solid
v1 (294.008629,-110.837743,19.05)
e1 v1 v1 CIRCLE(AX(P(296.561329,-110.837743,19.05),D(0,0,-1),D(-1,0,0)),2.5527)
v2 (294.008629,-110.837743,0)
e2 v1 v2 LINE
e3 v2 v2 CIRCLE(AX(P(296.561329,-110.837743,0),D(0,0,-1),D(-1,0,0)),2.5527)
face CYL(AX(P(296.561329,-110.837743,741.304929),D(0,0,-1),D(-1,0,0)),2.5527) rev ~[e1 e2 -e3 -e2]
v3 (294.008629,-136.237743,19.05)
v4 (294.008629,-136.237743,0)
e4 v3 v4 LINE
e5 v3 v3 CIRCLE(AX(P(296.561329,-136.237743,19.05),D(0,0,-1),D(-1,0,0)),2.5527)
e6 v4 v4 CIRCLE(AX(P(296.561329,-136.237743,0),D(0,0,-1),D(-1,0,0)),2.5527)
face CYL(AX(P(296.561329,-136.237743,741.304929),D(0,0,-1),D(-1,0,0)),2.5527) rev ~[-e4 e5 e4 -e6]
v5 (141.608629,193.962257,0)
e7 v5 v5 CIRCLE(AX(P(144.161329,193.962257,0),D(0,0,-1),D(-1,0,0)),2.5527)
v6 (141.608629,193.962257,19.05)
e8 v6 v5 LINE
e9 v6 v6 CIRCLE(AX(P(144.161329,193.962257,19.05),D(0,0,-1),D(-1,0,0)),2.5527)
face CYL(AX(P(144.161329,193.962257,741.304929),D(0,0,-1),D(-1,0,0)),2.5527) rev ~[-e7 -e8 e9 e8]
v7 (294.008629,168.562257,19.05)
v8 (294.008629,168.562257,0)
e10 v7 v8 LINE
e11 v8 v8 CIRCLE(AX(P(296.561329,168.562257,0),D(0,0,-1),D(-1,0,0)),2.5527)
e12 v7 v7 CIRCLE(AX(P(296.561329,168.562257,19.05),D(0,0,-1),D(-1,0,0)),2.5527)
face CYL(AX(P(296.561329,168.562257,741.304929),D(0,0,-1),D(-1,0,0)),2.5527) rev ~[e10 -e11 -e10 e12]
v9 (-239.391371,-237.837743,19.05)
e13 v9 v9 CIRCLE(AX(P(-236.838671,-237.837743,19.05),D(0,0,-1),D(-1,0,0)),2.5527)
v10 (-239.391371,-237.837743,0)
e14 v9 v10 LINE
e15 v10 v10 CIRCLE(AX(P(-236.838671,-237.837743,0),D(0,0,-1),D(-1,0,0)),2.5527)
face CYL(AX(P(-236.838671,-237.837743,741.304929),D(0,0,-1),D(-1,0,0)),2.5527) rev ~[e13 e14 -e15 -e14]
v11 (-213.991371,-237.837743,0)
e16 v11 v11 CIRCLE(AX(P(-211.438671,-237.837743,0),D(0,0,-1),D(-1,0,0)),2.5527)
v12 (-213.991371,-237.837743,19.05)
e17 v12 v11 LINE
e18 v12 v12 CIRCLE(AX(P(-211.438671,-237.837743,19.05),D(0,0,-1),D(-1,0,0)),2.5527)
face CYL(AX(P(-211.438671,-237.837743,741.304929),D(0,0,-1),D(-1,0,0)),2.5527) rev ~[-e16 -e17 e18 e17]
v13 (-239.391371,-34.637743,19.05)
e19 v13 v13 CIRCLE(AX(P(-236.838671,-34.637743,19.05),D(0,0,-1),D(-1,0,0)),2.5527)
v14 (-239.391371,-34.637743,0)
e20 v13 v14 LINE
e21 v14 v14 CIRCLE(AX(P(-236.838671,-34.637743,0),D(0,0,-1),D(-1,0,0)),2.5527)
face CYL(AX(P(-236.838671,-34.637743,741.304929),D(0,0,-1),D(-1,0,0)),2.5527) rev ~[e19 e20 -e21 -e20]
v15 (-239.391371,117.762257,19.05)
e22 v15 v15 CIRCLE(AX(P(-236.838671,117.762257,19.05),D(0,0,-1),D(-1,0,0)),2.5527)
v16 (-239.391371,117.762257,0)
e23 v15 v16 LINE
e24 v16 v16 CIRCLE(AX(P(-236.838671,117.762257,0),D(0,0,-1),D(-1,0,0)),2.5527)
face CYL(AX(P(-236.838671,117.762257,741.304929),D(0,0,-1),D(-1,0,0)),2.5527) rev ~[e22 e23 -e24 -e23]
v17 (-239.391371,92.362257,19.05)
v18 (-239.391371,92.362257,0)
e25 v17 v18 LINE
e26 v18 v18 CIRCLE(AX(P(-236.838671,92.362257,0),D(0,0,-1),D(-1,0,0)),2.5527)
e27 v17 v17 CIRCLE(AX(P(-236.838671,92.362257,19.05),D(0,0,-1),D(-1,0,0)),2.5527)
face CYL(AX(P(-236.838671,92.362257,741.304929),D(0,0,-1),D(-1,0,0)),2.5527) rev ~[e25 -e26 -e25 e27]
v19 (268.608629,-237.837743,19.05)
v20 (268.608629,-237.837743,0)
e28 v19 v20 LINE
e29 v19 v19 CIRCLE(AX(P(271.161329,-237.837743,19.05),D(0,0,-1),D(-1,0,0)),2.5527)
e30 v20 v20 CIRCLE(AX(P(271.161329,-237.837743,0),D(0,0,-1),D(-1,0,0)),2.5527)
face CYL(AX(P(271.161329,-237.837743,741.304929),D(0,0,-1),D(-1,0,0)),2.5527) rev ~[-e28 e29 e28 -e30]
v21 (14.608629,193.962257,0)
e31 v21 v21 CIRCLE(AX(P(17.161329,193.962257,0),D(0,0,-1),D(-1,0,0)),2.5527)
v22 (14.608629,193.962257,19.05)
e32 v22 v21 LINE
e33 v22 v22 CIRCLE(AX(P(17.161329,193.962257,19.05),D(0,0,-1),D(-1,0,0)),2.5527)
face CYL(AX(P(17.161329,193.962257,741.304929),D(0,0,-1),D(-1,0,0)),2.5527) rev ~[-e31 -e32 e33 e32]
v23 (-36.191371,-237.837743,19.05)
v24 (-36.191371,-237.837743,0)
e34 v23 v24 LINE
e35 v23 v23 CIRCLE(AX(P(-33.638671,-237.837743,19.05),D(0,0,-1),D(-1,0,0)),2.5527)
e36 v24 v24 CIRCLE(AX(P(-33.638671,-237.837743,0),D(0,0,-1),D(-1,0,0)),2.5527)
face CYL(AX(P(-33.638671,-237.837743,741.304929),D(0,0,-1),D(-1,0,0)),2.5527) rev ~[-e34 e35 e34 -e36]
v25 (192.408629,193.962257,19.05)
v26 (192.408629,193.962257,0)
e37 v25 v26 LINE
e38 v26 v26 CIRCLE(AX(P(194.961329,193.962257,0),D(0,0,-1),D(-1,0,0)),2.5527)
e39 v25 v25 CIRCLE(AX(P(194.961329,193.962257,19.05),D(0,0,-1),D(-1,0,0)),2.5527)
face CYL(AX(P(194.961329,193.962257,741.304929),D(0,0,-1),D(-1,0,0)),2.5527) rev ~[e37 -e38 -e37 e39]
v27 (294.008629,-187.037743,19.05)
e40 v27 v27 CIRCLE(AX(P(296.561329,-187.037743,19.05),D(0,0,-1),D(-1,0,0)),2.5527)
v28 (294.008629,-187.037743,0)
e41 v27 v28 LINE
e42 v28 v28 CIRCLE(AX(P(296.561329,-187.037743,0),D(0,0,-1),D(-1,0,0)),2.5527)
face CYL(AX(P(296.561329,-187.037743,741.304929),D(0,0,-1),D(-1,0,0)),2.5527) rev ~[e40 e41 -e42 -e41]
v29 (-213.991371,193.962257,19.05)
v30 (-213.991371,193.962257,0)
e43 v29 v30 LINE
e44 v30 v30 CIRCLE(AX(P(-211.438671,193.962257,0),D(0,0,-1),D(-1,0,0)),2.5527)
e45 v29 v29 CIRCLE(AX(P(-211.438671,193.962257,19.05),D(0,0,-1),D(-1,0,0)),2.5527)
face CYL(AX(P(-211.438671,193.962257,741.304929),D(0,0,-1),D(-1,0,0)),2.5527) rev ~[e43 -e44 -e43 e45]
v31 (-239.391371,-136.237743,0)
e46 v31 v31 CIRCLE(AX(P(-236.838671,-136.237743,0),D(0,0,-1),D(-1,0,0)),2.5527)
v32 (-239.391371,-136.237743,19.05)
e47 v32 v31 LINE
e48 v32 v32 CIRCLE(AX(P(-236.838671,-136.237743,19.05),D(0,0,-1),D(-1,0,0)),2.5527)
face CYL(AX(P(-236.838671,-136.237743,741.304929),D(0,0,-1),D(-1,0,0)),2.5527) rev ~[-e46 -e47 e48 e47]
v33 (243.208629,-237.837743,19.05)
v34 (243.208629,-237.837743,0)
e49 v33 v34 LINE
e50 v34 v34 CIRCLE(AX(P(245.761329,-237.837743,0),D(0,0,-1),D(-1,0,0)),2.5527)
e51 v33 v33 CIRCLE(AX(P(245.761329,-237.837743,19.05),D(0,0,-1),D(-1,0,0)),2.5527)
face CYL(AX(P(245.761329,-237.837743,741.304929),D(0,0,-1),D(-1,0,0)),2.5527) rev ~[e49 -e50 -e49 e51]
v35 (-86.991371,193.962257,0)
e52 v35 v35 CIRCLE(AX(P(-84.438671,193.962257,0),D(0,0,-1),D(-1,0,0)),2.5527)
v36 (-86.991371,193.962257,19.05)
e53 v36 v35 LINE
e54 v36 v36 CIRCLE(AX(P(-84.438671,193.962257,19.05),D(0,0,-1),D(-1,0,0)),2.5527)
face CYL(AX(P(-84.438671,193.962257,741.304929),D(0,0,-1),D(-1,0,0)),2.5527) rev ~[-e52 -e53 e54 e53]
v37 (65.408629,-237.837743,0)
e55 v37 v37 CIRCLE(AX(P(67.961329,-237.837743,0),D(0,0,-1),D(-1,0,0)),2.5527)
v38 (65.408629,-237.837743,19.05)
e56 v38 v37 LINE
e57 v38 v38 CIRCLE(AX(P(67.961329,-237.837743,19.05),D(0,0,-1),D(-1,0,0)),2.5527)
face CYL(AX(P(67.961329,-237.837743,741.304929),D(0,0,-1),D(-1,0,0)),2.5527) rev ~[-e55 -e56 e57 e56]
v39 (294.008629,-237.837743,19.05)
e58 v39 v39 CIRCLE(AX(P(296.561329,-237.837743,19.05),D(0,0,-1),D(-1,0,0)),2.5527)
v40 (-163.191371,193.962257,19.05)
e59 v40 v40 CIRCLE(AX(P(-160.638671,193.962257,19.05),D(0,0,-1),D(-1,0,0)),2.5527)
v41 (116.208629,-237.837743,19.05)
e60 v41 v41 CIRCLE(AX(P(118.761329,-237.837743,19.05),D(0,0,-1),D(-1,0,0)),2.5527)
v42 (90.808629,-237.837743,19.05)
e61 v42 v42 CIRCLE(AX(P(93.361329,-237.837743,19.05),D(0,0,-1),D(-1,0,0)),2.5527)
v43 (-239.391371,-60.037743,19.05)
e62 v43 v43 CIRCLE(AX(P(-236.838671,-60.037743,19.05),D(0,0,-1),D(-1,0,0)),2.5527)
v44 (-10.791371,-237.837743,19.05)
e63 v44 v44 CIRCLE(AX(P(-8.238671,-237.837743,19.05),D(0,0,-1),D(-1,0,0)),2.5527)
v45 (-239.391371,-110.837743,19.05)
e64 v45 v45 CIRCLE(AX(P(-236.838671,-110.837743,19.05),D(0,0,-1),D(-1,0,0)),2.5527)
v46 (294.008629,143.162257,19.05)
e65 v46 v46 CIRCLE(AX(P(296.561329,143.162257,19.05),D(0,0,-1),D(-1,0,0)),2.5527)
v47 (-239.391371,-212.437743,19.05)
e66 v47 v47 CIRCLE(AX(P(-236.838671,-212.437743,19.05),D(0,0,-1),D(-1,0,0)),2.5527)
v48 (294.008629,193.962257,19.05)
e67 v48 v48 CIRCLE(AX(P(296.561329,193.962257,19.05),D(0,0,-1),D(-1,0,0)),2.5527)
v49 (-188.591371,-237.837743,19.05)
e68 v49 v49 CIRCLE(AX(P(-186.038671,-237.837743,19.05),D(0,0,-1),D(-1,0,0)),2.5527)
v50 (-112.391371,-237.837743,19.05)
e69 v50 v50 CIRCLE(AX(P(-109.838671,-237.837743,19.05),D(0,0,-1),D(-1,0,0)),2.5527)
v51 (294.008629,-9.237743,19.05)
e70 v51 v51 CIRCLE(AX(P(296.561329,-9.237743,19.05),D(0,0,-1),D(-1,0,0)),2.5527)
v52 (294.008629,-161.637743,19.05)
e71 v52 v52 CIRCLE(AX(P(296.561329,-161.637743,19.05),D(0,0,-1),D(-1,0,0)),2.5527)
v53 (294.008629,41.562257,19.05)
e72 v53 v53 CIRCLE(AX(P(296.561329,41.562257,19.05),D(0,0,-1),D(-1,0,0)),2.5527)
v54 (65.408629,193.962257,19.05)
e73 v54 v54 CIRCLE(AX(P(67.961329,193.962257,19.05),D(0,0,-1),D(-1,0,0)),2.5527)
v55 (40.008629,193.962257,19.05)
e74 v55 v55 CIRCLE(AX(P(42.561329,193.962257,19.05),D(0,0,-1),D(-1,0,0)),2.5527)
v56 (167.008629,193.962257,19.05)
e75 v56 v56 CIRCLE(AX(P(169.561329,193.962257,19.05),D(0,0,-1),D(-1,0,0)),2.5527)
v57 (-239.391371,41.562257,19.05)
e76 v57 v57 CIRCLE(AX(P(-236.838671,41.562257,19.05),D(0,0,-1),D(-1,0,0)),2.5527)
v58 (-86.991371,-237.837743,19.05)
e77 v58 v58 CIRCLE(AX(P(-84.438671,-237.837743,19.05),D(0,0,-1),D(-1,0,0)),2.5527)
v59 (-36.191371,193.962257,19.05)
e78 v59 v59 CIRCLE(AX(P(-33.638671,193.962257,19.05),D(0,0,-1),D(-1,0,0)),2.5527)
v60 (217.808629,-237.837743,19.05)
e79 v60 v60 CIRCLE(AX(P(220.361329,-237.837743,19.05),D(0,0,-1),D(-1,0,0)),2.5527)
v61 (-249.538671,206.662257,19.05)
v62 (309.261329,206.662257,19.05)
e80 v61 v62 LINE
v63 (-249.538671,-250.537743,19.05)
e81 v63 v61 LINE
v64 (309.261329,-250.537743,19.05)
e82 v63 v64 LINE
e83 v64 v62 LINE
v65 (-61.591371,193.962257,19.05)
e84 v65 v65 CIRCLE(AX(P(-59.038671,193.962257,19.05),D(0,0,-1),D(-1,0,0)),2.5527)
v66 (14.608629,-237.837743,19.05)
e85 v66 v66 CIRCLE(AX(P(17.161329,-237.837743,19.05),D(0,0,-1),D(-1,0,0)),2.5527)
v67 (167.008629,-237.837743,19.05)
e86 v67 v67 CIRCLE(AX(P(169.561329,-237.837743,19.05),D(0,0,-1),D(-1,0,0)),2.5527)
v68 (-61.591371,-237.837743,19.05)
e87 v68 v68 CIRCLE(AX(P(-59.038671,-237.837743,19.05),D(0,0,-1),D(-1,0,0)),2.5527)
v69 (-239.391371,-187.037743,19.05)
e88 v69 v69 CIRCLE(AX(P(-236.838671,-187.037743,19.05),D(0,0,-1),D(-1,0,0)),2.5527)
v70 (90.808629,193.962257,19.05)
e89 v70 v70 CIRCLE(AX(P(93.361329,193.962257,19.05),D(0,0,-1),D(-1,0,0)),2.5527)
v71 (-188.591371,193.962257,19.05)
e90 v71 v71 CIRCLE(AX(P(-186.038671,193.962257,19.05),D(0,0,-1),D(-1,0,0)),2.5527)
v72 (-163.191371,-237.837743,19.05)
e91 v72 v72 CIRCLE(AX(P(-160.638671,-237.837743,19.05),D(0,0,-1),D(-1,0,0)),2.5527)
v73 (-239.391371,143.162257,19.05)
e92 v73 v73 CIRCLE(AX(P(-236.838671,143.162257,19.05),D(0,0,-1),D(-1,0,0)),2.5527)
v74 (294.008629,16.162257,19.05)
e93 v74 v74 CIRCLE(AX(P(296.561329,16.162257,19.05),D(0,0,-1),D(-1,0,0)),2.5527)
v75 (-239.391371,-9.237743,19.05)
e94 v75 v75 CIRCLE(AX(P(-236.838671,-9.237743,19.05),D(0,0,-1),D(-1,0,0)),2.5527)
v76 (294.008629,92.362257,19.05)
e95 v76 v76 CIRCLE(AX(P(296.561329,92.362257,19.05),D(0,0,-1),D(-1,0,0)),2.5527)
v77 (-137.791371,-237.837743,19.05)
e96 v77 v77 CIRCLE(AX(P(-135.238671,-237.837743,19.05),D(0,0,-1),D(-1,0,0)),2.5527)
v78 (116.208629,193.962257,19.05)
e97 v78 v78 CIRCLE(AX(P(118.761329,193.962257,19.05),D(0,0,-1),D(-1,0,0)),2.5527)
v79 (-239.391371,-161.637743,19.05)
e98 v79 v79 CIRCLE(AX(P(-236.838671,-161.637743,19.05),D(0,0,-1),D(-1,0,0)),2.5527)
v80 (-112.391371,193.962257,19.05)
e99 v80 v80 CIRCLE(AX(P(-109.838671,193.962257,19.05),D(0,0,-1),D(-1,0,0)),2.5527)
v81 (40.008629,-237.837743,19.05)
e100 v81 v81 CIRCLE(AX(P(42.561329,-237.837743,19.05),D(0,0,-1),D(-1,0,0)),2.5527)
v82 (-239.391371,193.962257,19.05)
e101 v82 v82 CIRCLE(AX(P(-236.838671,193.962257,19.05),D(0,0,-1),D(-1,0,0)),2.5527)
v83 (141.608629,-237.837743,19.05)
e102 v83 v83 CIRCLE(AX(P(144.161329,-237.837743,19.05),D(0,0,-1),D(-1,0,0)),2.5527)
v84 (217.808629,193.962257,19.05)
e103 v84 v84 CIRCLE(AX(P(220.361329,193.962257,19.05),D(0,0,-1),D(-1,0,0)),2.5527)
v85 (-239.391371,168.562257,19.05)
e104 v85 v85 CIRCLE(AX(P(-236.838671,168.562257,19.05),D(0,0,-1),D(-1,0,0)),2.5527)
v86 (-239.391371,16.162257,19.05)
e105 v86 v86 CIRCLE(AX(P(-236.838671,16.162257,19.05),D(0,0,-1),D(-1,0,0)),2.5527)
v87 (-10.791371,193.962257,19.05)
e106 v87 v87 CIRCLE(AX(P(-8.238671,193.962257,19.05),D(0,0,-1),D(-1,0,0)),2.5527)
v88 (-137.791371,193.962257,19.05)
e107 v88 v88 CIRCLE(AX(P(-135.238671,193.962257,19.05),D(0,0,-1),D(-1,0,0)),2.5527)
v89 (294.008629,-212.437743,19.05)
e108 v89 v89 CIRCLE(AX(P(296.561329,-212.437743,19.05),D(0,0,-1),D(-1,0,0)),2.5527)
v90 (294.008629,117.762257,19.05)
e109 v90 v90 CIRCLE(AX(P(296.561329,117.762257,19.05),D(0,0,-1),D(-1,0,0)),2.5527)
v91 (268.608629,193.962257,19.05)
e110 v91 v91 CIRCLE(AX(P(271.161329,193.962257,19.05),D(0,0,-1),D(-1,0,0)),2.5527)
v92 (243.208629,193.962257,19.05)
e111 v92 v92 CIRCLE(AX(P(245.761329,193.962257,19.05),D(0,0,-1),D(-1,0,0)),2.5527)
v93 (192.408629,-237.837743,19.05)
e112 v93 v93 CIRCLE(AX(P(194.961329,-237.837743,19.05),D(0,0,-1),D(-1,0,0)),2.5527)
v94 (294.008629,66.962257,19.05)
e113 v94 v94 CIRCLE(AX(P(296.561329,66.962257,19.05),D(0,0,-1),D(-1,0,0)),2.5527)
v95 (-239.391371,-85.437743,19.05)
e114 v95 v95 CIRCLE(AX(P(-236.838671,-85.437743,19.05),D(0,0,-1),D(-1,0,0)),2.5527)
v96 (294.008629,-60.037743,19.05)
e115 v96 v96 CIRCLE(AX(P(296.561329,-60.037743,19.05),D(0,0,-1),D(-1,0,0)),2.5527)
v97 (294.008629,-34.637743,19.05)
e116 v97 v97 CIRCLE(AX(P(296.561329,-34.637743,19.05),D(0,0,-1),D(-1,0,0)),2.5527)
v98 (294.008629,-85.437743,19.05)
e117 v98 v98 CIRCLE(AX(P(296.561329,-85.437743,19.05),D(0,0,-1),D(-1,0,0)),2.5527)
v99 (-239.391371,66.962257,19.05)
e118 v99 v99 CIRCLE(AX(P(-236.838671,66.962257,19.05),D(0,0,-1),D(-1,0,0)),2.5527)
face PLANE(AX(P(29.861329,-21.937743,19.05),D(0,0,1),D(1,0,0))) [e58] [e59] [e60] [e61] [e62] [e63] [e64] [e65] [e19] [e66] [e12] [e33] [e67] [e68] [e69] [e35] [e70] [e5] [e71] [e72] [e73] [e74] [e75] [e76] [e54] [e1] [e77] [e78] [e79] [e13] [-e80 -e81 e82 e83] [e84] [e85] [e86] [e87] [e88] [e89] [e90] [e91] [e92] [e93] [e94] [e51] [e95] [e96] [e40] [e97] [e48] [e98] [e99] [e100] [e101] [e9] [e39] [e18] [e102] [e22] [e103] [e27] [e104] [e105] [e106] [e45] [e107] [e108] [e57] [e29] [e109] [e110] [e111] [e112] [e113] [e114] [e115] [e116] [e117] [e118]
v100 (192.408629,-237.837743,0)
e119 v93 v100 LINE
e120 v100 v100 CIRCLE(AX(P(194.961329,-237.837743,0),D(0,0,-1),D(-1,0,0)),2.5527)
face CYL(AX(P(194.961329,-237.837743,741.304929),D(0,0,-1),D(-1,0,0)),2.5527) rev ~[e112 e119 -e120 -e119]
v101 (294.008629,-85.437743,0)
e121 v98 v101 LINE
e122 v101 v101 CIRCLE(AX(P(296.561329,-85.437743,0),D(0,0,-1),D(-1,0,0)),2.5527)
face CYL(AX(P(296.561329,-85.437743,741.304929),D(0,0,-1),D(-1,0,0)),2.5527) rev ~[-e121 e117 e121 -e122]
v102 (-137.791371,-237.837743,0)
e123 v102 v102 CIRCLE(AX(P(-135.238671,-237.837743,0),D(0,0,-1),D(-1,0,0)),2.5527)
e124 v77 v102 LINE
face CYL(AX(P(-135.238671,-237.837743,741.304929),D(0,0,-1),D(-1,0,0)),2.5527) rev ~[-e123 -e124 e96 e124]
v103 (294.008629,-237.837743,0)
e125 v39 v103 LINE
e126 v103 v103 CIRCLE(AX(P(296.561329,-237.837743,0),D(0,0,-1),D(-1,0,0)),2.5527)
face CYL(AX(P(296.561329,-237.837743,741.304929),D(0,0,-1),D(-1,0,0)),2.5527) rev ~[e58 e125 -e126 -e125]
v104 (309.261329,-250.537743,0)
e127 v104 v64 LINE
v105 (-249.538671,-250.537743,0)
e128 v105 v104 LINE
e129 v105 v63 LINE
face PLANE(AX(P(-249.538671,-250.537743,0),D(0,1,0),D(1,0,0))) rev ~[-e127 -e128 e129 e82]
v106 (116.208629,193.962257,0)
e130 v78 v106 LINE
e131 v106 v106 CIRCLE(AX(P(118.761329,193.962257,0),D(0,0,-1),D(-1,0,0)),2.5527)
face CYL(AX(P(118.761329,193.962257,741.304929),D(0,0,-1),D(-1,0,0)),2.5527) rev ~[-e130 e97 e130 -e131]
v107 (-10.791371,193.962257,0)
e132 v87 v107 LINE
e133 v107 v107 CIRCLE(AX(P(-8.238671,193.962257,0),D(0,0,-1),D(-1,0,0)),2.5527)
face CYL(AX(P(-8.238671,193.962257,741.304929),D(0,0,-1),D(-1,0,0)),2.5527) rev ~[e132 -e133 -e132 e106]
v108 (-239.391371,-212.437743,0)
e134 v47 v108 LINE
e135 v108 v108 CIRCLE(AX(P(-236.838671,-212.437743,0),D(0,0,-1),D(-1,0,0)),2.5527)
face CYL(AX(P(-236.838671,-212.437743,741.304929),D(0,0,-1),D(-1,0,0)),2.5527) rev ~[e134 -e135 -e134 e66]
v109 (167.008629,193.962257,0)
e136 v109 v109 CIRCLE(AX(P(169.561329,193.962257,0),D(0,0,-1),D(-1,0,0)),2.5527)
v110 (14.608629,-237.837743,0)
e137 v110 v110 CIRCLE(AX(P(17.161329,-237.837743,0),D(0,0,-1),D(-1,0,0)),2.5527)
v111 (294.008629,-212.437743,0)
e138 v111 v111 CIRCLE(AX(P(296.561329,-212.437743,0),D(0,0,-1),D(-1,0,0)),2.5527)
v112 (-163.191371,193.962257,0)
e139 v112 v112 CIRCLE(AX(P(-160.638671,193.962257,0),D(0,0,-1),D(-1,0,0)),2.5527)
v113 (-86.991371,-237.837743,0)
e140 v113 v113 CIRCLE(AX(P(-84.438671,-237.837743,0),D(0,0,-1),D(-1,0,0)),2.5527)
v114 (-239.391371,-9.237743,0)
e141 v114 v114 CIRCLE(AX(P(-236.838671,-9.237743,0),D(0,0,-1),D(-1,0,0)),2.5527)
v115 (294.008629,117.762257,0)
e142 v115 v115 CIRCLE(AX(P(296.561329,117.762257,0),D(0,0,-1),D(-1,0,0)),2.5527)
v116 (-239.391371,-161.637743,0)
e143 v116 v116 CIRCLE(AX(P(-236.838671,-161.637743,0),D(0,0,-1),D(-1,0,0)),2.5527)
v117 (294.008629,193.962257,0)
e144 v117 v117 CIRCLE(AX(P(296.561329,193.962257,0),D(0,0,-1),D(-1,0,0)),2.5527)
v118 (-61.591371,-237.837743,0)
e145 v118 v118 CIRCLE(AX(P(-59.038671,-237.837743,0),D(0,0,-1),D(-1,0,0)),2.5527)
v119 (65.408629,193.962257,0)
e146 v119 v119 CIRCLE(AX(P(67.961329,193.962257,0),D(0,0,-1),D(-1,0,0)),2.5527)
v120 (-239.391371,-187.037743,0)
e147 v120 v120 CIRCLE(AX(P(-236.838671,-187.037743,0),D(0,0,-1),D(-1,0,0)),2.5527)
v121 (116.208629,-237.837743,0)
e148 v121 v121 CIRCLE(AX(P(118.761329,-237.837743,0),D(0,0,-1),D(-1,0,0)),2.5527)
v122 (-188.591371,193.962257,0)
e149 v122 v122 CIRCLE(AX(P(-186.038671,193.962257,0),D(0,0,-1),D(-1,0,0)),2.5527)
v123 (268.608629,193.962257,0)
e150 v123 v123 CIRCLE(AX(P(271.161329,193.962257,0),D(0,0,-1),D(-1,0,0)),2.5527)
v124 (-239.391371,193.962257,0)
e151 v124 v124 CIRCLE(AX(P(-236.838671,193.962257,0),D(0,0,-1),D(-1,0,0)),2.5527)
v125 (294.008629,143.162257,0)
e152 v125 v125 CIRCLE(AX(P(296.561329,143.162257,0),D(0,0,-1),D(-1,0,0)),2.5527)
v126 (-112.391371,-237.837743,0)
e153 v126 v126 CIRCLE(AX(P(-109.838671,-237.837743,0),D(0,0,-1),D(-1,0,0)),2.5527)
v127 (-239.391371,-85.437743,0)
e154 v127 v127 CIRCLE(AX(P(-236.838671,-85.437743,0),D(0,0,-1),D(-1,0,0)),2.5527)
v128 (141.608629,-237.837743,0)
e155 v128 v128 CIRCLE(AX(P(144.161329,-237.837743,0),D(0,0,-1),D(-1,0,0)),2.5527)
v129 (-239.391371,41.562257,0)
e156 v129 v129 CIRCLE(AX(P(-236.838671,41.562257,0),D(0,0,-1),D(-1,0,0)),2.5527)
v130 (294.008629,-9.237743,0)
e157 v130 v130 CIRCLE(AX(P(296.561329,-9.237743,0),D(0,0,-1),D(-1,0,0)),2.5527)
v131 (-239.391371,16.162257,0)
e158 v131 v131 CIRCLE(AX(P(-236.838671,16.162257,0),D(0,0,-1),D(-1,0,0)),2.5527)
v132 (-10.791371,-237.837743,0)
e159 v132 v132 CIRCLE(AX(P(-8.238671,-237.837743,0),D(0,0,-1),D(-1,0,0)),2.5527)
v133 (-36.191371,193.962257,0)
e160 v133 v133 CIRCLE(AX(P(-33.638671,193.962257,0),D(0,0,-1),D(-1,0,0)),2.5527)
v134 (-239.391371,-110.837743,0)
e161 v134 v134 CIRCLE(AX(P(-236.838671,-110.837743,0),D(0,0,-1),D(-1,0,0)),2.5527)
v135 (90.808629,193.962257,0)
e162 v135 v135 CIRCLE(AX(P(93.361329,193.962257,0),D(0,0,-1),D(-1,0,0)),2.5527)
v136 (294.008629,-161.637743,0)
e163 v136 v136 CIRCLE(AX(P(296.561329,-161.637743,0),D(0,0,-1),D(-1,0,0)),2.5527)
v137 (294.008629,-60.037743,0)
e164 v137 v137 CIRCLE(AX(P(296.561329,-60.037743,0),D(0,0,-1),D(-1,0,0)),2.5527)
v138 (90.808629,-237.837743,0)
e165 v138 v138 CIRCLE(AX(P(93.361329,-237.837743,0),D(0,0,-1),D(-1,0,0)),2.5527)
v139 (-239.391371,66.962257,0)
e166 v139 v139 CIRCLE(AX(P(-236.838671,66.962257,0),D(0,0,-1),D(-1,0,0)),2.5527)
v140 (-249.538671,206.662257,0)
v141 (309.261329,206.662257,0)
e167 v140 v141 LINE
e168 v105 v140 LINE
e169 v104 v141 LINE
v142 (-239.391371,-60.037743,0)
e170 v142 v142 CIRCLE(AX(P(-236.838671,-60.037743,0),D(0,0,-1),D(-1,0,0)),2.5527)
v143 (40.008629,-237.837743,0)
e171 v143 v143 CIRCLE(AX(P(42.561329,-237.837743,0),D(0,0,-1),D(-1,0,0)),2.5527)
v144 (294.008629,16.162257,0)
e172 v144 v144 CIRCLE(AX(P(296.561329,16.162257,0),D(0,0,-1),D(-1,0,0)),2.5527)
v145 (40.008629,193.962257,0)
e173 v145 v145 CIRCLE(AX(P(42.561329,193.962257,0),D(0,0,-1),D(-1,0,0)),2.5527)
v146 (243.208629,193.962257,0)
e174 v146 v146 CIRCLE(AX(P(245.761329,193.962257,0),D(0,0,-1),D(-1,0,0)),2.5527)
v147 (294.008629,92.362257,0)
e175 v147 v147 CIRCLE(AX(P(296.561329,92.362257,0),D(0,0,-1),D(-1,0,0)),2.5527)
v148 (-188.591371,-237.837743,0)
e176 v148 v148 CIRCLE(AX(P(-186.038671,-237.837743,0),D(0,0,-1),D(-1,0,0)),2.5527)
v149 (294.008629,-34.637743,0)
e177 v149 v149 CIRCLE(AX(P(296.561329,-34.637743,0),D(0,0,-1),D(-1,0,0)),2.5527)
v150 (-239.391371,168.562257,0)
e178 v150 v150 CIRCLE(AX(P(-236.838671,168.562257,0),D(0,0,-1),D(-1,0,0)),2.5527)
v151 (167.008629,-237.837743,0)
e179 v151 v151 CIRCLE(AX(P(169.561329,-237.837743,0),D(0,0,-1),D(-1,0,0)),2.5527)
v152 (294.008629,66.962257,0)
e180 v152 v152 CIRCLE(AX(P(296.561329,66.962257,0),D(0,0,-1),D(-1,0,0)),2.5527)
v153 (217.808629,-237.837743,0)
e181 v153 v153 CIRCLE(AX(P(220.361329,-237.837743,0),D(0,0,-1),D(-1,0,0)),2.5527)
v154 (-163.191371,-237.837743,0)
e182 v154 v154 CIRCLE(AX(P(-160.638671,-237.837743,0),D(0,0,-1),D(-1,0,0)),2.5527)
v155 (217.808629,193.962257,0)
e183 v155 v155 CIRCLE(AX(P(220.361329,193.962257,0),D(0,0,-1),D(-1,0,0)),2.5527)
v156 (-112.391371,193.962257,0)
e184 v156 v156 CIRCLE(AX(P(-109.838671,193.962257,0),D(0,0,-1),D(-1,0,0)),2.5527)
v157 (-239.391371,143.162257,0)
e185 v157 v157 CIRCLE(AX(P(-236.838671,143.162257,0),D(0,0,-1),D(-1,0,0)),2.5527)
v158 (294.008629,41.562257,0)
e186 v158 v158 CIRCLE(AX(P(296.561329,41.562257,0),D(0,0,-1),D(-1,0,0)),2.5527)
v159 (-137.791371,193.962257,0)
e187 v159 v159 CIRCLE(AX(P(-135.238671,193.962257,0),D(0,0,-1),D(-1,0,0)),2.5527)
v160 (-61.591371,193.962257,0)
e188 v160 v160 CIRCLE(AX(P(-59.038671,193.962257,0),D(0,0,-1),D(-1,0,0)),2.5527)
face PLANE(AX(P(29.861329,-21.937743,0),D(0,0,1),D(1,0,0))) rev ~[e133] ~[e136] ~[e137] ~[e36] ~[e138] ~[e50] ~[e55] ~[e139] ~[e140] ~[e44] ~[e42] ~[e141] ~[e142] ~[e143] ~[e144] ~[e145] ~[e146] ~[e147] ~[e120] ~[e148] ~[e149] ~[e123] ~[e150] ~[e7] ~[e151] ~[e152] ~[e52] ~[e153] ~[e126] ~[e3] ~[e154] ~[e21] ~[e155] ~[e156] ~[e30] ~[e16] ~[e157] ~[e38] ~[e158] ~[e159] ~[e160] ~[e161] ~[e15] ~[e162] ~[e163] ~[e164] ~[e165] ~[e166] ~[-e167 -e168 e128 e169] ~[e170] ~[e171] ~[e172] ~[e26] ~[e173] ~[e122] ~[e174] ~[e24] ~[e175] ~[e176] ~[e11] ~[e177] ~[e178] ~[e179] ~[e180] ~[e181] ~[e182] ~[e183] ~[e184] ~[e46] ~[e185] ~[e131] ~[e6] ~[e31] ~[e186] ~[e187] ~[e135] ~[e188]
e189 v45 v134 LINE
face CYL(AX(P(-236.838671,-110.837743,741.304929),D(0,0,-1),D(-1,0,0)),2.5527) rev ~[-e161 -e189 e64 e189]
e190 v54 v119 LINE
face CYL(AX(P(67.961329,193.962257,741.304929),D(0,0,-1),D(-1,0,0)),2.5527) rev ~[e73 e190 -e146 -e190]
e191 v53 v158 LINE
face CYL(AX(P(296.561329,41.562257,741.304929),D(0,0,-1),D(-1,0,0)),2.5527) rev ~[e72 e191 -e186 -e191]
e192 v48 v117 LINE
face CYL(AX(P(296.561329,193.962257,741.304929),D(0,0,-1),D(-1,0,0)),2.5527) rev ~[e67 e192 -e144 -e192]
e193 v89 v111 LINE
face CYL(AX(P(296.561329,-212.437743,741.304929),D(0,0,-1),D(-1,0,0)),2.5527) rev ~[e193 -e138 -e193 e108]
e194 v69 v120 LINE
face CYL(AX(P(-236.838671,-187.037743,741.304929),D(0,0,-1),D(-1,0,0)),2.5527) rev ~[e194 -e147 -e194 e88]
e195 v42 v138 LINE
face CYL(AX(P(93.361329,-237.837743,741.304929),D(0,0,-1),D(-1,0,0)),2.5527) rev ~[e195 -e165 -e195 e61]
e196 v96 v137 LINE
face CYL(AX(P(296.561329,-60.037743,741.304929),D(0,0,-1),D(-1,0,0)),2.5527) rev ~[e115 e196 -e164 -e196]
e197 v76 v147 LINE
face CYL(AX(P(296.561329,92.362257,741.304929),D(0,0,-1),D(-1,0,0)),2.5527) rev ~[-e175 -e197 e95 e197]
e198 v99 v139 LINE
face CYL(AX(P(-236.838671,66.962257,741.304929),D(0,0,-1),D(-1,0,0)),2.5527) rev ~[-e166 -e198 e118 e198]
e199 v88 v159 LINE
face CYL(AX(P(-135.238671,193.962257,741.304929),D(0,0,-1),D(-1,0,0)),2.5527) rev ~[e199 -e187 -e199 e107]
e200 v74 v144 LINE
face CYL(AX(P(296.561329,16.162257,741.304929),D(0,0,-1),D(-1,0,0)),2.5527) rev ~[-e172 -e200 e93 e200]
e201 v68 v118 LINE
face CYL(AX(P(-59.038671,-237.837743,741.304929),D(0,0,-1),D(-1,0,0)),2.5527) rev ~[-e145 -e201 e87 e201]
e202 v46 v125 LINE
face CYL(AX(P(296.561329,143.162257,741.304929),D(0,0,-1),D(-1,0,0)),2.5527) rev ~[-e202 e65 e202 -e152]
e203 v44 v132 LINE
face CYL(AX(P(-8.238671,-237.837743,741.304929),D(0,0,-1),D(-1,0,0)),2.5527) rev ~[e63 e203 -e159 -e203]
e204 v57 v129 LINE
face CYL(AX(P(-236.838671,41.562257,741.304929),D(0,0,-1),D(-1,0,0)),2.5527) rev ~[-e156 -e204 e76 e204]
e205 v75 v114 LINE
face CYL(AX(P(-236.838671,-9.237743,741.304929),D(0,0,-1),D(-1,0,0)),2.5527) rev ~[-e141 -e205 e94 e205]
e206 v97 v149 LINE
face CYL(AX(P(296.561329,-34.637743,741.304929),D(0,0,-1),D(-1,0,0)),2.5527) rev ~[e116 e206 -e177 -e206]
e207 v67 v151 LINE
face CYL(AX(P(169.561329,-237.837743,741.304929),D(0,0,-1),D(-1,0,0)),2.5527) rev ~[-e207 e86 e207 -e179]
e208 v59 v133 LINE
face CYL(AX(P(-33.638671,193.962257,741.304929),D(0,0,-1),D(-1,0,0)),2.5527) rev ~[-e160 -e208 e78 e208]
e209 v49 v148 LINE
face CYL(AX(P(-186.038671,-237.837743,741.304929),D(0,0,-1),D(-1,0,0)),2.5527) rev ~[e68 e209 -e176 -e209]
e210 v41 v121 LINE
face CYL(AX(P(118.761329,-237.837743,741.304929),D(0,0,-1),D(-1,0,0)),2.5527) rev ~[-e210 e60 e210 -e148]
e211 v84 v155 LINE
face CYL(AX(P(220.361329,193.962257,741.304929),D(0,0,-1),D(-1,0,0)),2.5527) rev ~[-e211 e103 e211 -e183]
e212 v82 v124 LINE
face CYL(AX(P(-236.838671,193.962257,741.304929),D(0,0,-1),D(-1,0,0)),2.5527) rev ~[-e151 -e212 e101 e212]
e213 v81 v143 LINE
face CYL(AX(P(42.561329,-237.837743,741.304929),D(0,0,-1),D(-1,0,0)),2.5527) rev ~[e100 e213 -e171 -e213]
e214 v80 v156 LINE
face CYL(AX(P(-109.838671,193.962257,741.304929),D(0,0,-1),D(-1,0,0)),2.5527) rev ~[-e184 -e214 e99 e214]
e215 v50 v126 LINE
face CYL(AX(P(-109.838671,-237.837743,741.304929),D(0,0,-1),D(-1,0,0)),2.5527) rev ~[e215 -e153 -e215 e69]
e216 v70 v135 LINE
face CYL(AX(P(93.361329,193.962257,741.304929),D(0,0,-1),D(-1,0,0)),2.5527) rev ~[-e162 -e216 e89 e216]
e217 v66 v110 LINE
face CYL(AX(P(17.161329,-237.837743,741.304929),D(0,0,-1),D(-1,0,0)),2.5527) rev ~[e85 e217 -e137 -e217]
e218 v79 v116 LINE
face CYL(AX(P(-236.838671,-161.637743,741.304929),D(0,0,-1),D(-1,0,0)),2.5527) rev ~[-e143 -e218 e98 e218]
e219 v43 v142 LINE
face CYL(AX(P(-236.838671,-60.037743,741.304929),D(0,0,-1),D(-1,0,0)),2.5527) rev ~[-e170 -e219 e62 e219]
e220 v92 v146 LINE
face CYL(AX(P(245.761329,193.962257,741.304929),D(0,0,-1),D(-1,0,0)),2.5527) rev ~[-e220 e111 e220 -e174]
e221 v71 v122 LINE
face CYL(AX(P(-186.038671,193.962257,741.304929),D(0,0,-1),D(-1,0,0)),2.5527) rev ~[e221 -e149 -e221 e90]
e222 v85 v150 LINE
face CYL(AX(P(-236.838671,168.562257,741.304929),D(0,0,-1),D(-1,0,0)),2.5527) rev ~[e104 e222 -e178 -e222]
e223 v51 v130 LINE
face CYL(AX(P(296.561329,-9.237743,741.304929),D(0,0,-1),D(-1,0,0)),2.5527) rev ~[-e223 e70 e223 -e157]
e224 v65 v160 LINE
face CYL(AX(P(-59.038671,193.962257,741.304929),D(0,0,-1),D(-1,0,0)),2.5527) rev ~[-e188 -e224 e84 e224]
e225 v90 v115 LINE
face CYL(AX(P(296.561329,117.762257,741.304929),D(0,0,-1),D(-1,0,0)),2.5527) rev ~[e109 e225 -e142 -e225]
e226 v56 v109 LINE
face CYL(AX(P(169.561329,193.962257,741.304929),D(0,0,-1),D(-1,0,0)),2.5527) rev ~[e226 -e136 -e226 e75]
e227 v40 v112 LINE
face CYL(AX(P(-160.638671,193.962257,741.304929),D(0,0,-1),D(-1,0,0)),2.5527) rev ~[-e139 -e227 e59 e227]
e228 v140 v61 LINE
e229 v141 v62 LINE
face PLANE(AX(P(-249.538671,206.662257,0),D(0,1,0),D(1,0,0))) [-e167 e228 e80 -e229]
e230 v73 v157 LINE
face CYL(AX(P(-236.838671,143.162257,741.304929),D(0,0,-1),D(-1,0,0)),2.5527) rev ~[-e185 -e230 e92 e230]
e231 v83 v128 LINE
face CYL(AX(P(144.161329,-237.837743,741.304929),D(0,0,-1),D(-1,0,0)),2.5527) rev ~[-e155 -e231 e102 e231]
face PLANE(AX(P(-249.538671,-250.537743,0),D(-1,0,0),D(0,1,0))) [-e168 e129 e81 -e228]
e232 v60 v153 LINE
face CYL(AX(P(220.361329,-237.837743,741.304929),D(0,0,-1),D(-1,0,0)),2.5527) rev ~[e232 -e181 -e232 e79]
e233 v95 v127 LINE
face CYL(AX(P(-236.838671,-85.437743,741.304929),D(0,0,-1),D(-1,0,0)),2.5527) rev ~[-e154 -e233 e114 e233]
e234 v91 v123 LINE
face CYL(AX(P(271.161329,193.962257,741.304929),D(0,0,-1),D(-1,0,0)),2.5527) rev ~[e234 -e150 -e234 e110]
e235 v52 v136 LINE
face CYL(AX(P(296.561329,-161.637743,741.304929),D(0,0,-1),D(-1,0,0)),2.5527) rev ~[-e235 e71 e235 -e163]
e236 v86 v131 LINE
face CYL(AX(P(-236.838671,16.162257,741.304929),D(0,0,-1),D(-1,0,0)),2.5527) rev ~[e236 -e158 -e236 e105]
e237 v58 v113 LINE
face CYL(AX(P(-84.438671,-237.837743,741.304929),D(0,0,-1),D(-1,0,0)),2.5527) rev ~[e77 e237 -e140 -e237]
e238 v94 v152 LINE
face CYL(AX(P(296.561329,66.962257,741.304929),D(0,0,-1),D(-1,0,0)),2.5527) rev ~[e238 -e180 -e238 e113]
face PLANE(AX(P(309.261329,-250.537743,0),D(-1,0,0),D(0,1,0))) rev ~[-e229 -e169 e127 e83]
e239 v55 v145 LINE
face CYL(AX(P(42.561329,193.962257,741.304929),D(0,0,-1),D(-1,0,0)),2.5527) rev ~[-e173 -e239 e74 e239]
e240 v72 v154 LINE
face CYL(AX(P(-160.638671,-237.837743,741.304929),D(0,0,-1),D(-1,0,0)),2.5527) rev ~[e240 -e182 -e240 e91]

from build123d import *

# Parameters (mm, degrees)
F0_W     = 558.8
F0_H     = 457.2
F1_DEPTH = 19.05
F3_D     = 5.1054


with BuildPart() as f1:
    # F0 (on Top) → F1 (new body)
    with BuildSketch(Plane.XY):
        with Locations((29.861329, -21.937743)):
            Rectangle(F0_W, F0_H)
    extrude(amount=F1_DEPTH)

    # F3 (through all)
    with Locations(Plane.XY.offset(19.05)):
        with Locations((-236.838671, -34.637743), (-236.838671, 66.962257), (144.161329, 193.962257), (-186.038671, 193.962257), (296.561329, -161.637743), (-33.638671, 193.962257), (93.361329, -237.837743), (118.761329, 193.962257), (245.761329, -237.837743), (220.361329, 193.962257), (93.361329, 193.962257), (296.561329, -110.837743), (296.561329, 117.762257), (271.161329, 193.962257), (-84.438671, -237.837743), (296.561329, -237.837743), (296.561329, -9.237743), (-211.438671, -237.837743), (17.161329, -237.837743), (-160.638671, -237.837743), (296.561329, 143.162257), (-135.238671, 193.962257), (194.961329, 193.962257), (296.561329, -34.637743), (-236.838671, -85.437743), (296.561329, 66.962257), (-135.238671, -237.837743), (-236.838671, 117.762257), (17.161329, 193.962257), (-236.838671, -187.037743), (-236.838671, 143.162257), (-236.838671, 41.562257), (-236.838671, 16.162257), (296.561329, -85.437743), (42.561329, 193.962257), (-59.038671, -237.837743), (-236.838671, 92.362257), (-59.038671, 193.962257), (271.161329, -237.837743), (-109.838671, 193.962257), (-236.838671, -161.637743), (67.961329, -237.837743), (296.561329, -60.037743), (-160.638671, 193.962257), (169.561329, -237.837743), (-236.838671, -136.237743), (-236.838671, -212.437743), (-186.038671, -237.837743), (-8.238671, -237.837743), (-236.838671, -110.837743), (118.761329, -237.837743), (-236.838671, -237.837743), (-33.638671, -237.837743), (296.561329, -136.237743), (296.561329, 41.562257), (-236.838671, 168.562257), (-211.438671, 193.962257), (-236.838671, 193.962257), (169.561329, 193.962257), (296.561329, -212.437743), (220.361329, -237.837743), (-236.838671, -60.037743), (-109.838671, -237.837743), (321.961329, 193.962257), (-84.438671, 193.962257), (-236.838671, -9.237743), (245.761329, 193.962257), (296.561329, -187.037743), (296.561329, 193.962257), (-8.238671, 193.962257), (144.161329, -237.837743), (194.961329, -237.837743), (296.561329, 168.562257), (42.561329, -237.837743), (67.961329, 193.962257), (296.561329, 92.362257), (296.561329, 16.162257)):
            Hole(F3_D / 2)


solid = f1.part
